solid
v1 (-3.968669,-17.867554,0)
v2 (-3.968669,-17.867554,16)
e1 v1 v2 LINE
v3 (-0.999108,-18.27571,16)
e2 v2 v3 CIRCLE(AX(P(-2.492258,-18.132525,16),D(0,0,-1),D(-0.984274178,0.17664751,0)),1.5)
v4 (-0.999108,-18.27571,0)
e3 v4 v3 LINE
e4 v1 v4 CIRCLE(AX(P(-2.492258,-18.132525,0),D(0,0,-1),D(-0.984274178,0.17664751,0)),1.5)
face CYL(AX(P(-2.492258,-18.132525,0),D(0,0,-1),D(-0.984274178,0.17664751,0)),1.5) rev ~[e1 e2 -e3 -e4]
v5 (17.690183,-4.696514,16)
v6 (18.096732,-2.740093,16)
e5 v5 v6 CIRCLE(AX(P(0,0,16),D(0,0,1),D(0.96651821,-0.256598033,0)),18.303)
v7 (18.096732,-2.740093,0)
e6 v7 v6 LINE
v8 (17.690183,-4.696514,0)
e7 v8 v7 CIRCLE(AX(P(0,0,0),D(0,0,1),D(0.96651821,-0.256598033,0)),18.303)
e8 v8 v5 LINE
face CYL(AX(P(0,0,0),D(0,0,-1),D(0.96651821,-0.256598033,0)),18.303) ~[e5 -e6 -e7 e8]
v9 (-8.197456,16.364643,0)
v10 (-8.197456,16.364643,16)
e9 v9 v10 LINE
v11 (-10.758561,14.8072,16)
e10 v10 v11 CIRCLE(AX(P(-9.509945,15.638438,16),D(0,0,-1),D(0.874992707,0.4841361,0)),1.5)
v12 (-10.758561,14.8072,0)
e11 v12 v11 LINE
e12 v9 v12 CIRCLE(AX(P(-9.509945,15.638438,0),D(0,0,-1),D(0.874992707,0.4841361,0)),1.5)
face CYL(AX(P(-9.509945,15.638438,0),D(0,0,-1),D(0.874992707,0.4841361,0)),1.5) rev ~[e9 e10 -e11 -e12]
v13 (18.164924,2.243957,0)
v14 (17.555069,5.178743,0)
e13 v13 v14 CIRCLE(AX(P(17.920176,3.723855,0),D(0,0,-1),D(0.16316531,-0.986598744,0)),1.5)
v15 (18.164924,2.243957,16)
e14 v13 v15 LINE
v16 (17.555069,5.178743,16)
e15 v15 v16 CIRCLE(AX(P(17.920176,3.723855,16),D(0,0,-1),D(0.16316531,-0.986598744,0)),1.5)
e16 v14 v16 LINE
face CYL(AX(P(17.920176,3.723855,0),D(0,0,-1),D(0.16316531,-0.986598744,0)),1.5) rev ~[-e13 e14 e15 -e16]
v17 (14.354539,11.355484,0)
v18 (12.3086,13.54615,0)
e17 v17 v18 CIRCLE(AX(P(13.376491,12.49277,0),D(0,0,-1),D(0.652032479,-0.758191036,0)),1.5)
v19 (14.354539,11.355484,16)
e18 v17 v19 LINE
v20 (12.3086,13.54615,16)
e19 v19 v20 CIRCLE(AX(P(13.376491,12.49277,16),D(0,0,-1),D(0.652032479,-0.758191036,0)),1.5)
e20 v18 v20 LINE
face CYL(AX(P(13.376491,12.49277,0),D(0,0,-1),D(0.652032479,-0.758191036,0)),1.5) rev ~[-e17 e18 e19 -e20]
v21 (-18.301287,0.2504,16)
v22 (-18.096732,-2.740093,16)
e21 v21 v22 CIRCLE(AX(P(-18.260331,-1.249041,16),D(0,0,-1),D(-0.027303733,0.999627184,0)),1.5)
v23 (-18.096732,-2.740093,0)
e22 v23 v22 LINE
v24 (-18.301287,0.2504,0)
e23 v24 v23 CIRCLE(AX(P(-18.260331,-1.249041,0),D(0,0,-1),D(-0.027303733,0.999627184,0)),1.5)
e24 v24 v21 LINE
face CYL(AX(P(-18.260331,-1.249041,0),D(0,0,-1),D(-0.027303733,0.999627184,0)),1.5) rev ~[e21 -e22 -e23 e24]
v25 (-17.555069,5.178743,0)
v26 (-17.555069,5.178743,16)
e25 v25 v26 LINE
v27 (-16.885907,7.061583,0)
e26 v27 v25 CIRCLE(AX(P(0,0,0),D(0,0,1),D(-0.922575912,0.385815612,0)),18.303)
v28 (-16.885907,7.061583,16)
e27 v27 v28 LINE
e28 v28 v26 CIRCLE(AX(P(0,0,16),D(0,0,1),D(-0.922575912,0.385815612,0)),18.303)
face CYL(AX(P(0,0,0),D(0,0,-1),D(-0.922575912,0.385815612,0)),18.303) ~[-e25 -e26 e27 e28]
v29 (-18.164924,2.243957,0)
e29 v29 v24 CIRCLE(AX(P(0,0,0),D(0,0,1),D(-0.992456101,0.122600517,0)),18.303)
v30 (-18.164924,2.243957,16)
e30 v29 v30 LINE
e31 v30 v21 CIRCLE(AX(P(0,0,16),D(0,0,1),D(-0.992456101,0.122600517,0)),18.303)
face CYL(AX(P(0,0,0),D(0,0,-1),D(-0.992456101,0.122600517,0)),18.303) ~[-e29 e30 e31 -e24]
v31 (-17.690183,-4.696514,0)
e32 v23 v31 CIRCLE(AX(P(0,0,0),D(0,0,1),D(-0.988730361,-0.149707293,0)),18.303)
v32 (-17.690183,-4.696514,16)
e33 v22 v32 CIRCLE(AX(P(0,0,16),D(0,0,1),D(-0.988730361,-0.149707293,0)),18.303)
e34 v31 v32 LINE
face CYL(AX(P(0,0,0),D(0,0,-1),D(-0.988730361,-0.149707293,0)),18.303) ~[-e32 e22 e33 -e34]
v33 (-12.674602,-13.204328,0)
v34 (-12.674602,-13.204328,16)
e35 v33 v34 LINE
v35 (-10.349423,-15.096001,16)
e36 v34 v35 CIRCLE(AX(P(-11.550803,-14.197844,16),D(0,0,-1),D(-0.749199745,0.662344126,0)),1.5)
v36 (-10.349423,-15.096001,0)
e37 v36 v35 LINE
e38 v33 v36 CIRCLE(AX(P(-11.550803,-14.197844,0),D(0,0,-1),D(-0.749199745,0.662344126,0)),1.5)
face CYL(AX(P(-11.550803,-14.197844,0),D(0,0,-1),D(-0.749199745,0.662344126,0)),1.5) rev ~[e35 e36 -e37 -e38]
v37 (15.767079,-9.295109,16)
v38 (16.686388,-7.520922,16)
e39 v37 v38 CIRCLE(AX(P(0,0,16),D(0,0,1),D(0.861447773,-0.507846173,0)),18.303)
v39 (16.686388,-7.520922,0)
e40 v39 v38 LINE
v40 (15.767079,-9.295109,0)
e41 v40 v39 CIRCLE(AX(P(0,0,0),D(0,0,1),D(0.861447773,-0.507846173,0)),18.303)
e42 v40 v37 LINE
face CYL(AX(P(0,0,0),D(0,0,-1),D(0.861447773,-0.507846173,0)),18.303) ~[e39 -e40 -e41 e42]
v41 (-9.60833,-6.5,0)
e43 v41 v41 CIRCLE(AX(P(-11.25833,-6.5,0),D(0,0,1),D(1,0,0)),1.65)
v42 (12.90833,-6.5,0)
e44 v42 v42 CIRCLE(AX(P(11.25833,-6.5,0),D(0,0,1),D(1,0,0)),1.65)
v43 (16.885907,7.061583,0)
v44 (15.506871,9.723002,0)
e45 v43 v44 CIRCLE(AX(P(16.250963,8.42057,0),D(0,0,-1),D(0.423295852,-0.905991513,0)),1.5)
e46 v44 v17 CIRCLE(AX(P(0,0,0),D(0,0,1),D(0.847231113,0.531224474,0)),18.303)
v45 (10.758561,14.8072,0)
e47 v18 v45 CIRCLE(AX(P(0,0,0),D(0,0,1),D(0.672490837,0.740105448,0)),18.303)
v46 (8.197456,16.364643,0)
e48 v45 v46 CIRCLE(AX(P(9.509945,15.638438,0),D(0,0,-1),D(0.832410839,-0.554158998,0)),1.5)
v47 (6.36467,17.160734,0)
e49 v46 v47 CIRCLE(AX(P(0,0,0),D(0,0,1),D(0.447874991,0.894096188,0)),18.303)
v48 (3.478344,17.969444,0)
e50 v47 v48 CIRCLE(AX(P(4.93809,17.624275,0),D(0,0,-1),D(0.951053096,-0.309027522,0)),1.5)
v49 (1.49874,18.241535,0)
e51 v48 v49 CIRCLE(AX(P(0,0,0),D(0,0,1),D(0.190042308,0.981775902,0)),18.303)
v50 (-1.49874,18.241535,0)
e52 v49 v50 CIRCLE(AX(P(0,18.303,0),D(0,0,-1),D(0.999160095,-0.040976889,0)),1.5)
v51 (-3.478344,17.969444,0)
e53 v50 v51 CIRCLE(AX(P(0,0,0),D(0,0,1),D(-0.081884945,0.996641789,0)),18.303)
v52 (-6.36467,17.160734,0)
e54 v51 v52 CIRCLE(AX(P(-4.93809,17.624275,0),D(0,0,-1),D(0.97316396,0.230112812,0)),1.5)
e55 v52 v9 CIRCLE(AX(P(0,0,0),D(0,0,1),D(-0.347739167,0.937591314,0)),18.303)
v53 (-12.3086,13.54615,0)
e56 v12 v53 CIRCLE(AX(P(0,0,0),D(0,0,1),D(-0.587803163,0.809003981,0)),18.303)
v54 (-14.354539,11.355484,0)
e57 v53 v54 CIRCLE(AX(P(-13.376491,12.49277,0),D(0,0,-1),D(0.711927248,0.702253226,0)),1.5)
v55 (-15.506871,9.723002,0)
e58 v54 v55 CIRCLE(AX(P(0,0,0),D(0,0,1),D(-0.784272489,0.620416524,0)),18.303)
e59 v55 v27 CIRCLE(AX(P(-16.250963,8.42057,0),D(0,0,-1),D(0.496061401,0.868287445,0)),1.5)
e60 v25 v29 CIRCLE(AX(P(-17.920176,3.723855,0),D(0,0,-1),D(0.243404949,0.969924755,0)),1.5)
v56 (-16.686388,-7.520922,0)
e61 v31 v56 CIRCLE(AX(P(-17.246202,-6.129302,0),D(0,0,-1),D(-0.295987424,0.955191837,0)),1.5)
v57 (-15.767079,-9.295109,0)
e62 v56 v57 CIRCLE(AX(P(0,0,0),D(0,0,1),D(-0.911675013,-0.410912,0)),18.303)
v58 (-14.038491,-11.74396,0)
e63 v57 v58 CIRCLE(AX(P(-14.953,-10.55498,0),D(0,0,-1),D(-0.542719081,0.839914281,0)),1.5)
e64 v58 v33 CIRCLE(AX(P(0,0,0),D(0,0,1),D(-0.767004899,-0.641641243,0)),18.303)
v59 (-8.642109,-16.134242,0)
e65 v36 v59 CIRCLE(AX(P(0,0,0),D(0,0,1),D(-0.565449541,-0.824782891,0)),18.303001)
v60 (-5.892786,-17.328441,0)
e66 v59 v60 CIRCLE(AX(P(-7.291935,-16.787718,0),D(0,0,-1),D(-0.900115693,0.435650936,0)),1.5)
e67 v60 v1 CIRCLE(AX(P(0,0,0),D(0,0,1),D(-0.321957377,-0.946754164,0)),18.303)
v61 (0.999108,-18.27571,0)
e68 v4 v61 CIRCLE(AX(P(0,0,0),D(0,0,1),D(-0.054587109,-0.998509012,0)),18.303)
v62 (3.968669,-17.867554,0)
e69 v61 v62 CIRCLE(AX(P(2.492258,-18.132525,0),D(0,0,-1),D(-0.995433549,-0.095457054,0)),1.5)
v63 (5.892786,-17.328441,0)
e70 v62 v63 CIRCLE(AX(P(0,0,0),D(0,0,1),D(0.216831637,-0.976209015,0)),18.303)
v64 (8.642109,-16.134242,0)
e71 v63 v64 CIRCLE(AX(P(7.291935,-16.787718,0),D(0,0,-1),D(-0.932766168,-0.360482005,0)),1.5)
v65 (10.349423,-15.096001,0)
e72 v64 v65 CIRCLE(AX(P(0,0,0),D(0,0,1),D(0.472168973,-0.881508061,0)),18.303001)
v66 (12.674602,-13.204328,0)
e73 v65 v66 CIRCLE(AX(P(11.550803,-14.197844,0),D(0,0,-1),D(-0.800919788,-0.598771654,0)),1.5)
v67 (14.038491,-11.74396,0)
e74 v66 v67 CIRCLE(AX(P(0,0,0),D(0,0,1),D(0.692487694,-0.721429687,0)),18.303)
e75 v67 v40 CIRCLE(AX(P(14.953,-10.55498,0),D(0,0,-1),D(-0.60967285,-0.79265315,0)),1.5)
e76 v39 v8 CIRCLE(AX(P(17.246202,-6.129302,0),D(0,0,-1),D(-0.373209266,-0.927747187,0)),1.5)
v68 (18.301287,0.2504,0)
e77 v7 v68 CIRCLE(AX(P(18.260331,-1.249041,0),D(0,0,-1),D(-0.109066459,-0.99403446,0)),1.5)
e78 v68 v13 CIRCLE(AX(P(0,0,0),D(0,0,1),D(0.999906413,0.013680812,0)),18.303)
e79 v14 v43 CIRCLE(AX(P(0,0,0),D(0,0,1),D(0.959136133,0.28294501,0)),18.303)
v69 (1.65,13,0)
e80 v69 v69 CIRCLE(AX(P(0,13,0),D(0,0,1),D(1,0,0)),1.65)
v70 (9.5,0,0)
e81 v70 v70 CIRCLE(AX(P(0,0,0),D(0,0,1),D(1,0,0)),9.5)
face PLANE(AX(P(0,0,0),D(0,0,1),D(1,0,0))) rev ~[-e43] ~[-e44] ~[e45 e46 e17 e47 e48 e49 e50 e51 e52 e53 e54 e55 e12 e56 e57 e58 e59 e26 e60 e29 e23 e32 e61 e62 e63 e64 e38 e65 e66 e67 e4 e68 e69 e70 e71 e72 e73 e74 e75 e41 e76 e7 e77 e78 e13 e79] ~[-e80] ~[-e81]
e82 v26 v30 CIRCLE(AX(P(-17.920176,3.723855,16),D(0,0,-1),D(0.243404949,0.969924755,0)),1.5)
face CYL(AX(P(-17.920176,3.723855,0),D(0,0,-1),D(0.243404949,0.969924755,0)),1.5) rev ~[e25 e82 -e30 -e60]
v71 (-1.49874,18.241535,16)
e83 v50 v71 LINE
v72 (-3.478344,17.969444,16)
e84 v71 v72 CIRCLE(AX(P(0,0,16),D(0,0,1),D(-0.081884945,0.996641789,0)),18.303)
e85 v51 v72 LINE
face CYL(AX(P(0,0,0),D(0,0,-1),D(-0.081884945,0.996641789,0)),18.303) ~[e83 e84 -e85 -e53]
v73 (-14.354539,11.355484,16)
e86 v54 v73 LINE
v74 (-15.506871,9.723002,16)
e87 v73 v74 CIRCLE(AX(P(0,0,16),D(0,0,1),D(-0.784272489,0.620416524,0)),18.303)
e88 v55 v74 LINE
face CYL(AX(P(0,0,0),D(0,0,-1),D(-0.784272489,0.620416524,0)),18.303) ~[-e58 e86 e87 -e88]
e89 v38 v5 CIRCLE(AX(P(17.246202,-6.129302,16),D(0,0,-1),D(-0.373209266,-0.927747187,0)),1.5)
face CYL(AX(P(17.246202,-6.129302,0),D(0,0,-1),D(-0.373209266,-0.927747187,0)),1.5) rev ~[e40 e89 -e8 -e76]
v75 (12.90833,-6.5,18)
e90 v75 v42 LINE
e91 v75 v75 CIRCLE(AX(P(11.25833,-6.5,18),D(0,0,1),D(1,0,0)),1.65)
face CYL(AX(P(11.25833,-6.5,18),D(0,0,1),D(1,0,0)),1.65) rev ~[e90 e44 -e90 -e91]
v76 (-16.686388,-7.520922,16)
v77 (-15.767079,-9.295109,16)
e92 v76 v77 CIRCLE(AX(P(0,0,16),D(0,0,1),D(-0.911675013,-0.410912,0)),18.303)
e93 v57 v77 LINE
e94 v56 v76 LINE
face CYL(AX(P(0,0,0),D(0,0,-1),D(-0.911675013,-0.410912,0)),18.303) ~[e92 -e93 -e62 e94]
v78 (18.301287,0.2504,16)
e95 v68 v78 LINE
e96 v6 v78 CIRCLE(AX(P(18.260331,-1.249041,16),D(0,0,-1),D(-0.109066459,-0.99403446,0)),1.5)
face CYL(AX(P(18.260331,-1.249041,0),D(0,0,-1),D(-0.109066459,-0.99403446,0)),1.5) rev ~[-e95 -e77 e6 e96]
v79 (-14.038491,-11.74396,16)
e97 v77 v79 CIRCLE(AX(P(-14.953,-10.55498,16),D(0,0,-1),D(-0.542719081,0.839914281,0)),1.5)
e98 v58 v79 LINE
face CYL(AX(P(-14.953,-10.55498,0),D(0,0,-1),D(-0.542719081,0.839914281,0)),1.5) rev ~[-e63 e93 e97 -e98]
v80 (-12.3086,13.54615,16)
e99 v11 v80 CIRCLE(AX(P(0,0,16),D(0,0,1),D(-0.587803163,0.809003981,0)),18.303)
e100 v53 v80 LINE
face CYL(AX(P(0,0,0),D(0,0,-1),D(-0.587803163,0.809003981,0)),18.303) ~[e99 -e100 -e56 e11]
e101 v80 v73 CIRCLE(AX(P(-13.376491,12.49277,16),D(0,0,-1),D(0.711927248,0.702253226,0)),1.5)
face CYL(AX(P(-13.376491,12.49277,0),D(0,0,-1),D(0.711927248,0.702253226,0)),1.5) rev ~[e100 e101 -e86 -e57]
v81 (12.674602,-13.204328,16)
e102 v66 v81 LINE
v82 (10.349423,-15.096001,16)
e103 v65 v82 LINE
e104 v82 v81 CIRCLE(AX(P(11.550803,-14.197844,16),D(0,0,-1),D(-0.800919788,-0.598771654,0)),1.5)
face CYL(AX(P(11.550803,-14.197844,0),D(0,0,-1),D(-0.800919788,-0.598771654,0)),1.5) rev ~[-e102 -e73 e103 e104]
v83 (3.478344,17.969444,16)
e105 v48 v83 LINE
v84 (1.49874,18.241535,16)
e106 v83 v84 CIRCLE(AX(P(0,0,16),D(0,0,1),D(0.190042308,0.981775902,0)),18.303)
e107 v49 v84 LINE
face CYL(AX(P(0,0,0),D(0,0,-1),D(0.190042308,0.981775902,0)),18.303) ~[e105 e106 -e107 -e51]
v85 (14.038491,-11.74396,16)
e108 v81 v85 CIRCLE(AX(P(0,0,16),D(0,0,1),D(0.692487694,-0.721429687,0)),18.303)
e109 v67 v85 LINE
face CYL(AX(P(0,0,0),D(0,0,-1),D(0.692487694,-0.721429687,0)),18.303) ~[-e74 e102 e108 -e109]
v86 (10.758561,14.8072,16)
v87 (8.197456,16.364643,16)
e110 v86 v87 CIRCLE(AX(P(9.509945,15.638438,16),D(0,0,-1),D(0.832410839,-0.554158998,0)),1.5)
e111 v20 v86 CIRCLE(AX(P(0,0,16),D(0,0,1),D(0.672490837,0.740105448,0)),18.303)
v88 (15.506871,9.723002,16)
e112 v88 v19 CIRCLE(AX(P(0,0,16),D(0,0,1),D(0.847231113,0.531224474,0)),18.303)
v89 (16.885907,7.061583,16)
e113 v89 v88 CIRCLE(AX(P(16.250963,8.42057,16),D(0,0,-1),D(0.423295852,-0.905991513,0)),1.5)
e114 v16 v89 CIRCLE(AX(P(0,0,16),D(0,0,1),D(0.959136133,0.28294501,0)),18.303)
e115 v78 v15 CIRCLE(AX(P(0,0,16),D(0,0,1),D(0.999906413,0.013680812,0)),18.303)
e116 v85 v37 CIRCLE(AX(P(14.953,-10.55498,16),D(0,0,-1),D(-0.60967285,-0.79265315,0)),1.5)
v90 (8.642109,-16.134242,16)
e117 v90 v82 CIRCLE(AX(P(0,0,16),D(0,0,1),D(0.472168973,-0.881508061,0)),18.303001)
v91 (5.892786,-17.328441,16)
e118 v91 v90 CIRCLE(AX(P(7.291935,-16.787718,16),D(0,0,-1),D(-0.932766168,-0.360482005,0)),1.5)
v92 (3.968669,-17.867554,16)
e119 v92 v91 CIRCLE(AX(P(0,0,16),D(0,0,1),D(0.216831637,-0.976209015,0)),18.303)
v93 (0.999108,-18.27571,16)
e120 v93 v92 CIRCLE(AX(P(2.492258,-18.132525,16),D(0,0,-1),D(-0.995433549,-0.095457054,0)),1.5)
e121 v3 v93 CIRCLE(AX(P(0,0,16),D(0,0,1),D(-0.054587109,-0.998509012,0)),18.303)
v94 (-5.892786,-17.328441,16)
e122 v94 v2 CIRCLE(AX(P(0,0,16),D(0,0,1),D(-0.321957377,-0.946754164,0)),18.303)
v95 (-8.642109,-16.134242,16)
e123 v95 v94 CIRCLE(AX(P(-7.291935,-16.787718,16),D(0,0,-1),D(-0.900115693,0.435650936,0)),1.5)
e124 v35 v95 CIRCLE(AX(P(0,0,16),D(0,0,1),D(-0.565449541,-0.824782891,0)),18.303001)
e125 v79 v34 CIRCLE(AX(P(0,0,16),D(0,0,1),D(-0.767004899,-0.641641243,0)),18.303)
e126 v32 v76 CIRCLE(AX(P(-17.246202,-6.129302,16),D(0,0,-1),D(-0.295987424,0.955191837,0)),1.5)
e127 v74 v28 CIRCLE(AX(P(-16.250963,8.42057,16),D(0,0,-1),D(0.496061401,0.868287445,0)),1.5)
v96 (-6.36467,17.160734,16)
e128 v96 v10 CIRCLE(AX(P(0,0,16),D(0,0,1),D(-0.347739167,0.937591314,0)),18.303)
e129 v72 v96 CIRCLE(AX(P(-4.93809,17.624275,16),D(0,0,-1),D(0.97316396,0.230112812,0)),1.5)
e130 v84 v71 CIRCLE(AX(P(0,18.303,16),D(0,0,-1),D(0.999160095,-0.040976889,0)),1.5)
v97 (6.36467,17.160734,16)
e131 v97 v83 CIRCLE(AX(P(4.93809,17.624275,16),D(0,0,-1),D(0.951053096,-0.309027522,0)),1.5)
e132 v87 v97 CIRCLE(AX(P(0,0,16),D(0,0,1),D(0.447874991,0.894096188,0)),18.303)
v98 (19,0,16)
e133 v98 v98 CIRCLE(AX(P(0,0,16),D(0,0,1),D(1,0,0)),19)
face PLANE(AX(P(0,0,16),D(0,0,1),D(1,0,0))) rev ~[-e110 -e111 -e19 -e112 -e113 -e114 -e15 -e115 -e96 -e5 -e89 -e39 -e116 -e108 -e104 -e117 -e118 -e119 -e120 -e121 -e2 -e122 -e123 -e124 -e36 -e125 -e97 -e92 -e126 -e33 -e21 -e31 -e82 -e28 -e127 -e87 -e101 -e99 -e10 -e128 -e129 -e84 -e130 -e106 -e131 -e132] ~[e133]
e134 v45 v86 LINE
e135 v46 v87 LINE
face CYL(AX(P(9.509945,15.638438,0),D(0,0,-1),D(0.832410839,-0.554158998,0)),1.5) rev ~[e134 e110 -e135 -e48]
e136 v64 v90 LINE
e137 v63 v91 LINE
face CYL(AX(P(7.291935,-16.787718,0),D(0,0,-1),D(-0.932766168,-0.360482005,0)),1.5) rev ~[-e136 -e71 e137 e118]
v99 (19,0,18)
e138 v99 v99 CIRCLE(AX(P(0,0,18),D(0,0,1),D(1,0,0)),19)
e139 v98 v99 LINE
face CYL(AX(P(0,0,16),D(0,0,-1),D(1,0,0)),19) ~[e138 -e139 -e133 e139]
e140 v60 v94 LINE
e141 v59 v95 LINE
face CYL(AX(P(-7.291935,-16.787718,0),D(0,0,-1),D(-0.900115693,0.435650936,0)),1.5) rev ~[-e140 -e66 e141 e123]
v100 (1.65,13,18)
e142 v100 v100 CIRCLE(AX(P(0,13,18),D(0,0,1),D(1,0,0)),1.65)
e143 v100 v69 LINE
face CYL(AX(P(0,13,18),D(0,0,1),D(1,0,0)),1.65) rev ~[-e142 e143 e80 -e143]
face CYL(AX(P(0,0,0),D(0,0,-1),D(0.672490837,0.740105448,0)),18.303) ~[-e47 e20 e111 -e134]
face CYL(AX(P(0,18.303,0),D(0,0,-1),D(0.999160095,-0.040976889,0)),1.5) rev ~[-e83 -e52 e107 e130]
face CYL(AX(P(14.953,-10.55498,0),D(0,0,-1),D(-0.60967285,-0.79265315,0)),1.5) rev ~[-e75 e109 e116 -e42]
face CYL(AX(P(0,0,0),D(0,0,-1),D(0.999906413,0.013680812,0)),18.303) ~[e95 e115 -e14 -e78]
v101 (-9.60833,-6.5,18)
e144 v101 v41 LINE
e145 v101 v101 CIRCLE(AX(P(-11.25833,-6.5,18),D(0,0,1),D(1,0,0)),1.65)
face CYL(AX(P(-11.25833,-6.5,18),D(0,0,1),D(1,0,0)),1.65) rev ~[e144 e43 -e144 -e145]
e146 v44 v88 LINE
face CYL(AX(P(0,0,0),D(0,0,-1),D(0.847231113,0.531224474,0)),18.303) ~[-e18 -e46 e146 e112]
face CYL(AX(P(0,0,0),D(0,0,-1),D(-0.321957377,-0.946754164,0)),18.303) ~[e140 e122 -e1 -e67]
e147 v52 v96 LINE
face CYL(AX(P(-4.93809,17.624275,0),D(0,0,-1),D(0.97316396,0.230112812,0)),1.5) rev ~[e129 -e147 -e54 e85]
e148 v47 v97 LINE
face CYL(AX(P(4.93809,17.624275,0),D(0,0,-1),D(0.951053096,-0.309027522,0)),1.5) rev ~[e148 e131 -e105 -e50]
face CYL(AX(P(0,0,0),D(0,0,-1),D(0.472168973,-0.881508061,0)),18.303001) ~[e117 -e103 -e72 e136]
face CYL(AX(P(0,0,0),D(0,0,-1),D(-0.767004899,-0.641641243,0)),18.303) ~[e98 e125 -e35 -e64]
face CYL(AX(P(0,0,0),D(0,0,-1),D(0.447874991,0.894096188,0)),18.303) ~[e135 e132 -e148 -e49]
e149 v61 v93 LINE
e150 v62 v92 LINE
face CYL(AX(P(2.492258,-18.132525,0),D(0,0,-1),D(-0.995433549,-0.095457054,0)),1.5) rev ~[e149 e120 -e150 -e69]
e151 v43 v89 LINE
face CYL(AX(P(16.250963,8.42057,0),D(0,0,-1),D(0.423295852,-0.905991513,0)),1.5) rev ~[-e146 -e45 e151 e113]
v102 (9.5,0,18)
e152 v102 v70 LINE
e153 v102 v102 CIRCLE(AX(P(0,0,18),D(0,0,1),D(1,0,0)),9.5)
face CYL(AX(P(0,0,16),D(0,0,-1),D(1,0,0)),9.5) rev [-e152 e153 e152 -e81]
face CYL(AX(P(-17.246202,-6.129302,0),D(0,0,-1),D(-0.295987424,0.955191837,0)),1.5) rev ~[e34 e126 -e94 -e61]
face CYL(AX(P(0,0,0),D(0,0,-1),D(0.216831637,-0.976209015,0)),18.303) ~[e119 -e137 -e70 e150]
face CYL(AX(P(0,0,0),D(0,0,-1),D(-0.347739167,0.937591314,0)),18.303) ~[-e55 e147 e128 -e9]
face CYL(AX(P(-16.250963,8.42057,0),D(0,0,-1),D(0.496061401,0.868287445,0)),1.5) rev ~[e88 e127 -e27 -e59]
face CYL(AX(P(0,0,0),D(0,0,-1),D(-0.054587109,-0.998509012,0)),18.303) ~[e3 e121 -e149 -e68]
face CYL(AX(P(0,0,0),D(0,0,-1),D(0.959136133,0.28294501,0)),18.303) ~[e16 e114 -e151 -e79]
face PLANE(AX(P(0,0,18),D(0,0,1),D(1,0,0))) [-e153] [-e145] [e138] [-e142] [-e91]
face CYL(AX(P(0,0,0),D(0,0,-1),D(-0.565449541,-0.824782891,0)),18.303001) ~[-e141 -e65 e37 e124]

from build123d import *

# Parameters (mm, degrees)
SKETCH_1_R          = 9.5
EXTRUDE_1_DEPTH     = 16
SKETCH_2_R          = 19
SKETCH_2_R_2        = 9.5
EXTRUDE_2_DEPTH     = 2
SKETCH_4_R          = 1.65
CUT_EXTRUDE_1_DEPTH = 19


with BuildPart() as part:
    # Эскиз1 → Бобышка-Вытянуть1 (new body)
    with BuildSketch(Plane.XY):
        with BuildLine():
            ThreePointArc((-1.498740142, 18.241534666), (-2.492258178, 18.13252487), (-3.478344362, 17.969444329))
            ThreePointArc((-3.478344362, 17.969444329), (-4.533395146, 16.179899179), (-6.364669946, 17.160733827))
            ThreePointArc((-6.364669946, 17.160733827), (-7.291935147, 16.787718451), (-8.197455977, 16.364642511))
            ThreePointArc((-8.197455977, 16.364642511), (-8.730569112, 14.356809255), (-10.758561296, 14.807199865))
            ThreePointArc((-10.758561296, 14.807199865), (-11.550802645, 14.197843754), (-12.308599783, 13.54615002))
            ThreePointArc((-12.308599783, 13.54615002), (-12.280236708, 11.468940466), (-14.354539373, 11.355483627))
            ThreePointArc((-14.354539373, 11.355483627), (-14.952999952, 10.554979936), (-15.506871051, 9.723001553))
            ThreePointArc((-15.506871051, 9.723001553), (-14.919135325, 7.730472829), (-16.885906931, 7.061583116))
            ThreePointArc((-16.885906931, 7.061583116), (-17.246201658, 6.129301542), (-17.555068633, 5.17874254))
            ThreePointArc((-17.555068633, 5.17874254), (-16.451549925, 3.418671387), (-18.164924021, 2.243957291))
            ThreePointArc((-18.164924021, 2.243957291), (-18.260331482, 1.249040892), (-18.301287083, 0.250399884))
            ThreePointArc((-18.301287083, 0.250399884), (-16.763828329, -1.146677272), (-18.096731795, -2.740092582))
            ThreePointArc((-18.096731795, -2.740092582), (-17.920176057, -3.723855407), (-17.690182793, -4.696513786))
            ThreePointArc((-17.690182793, -4.696513786), (-15.832810274, -5.626982123), (-16.686387758, -7.520922323))
            ThreePointArc((-16.686387758, -7.520922323), (-16.250963152, -8.420570386), (-15.767078573, -9.295108514))
            ThreePointArc((-15.767078573, -9.295108514), (-13.727545112, -9.689959452), (-14.038490677, -11.743959661))
            ThreePointArc((-14.038490677, -11.743959661), (-13.376490654, -12.49277018), (-12.674602264, -13.204327565))
            ThreePointArc((-12.674602264, -13.204327565), (-10.604170729, -13.034276818), (-10.349422964, -15.096001236))
            ThreePointArc((-10.349422964, -15.096001236), (-9.509945037, -15.638438361), (-8.642108688, -16.134242047))
            ThreePointArc((-8.642108688, -16.134242047), (-6.694333513, -15.411901499), (-5.892785895, -17.328441459))
            ThreePointArc((-5.892785895, -17.328441459), (-4.938090302, -17.62427511), (-3.968669445, -17.867553605))
            ThreePointArc((-3.968669445, -17.867553605), (-2.288008205, -16.646495951), (-0.999107855, -18.275710451))
            ThreePointArc((-0.999107855, -18.275710451), (0, -18.303), (0.999107855, -18.275710451))
            ThreePointArc((0.999107855, -18.275710451), (2.288008205, -16.646495951), (3.968669445, -17.867553605))
            ThreePointArc((3.968669445, -17.867553605), (4.938090302, -17.62427511), (5.892785895, -17.328441459))
            ThreePointArc((5.892785895, -17.328441459), (6.694333513, -15.411901499), (8.642108688, -16.134242047))
            ThreePointArc((8.642108688, -16.134242047), (9.509945037, -15.638438361), (10.349422964, -15.096001236))
            ThreePointArc((10.349422964, -15.096001236), (10.604170729, -13.034276818), (12.674602264, -13.204327565))
            ThreePointArc((12.674602264, -13.204327565), (13.376490654, -12.49277018), (14.038490677, -11.743959661))
            ThreePointArc((14.038490677, -11.743959661), (13.727545112, -9.689959452), (15.767078573, -9.295108514))
            ThreePointArc((15.767078573, -9.295108514), (16.250963152, -8.420570386), (16.686387758, -7.520922323))
            ThreePointArc((16.686387758, -7.520922323), (15.832810274, -5.626982123), (17.690182793, -4.696513786))
            ThreePointArc((17.690182793, -4.696513786), (17.920176057, -3.723855407), (18.096731795, -2.740092582))
            ThreePointArc((18.096731795, -2.740092582), (16.763828329, -1.146677272), (18.301287083, 0.250399884))
            ThreePointArc((18.301287083, 0.250399884), (18.260331482, 1.249040892), (18.164924021, 2.243957291))
            ThreePointArc((18.164924021, 2.243957291), (16.451549925, 3.418671387), (17.555068633, 5.17874254))
            ThreePointArc((17.555068633, 5.17874254), (17.246201658, 6.129301542), (16.885906931, 7.061583116))
            ThreePointArc((16.885906931, 7.061583116), (14.919135325, 7.730472829), (15.506871051, 9.723001553))
            ThreePointArc((15.506871051, 9.723001553), (14.952999952, 10.554979936), (14.354539373, 11.355483627))
            ThreePointArc((14.354539373, 11.355483627), (12.280236708, 11.468940466), (12.308599783, 13.54615002))
            ThreePointArc((12.308599783, 13.54615002), (11.550802645, 14.197843754), (10.758561296, 14.807199865))
            ThreePointArc((10.758561296, 14.807199865), (8.730569112, 14.356809255), (8.197455977, 16.364642511))
            ThreePointArc((8.197455977, 16.364642511), (7.291935147, 16.787718451), (6.364669946, 17.160733827))
            ThreePointArc((6.364669946, 17.160733827), (4.533395146, 16.179899179), (3.478344362, 17.969444329))
            ThreePointArc((3.478344362, 17.969444329), (2.492258178, 18.13252487), (1.498740142, 18.241534666))
            ThreePointArc((1.498740142, 18.241534666), (0, 16.803), (-1.498740142, 18.241534666))
        make_face()
        Circle(SKETCH_1_R, mode=Mode.SUBTRACT)
    extrude(amount=EXTRUDE_1_DEPTH)

    # Эскиз2 → Бобышка-Вытянуть2 (add)
    with BuildSketch(Plane.XY.offset(16)):
        Circle(SKETCH_2_R)
        Circle(SKETCH_2_R_2, mode=Mode.SUBTRACT)
    extrude(amount=EXTRUDE_2_DEPTH)

    # Эскиз4 → Вырез-Вытянуть1 (cut, through all)
    with BuildSketch(Plane.XY.offset(18)):
        with Locations((0, 13)):
            Circle(SKETCH_4_R)
        with Locations((11.258330249, -6.5)):
            Circle(SKETCH_4_R)
        with Locations((-11.258330249, -6.5)):
            Circle(SKETCH_4_R)
    extrude(amount=-CUT_EXTRUDE_1_DEPTH, mode=Mode.SUBTRACT)


solid = part.part
